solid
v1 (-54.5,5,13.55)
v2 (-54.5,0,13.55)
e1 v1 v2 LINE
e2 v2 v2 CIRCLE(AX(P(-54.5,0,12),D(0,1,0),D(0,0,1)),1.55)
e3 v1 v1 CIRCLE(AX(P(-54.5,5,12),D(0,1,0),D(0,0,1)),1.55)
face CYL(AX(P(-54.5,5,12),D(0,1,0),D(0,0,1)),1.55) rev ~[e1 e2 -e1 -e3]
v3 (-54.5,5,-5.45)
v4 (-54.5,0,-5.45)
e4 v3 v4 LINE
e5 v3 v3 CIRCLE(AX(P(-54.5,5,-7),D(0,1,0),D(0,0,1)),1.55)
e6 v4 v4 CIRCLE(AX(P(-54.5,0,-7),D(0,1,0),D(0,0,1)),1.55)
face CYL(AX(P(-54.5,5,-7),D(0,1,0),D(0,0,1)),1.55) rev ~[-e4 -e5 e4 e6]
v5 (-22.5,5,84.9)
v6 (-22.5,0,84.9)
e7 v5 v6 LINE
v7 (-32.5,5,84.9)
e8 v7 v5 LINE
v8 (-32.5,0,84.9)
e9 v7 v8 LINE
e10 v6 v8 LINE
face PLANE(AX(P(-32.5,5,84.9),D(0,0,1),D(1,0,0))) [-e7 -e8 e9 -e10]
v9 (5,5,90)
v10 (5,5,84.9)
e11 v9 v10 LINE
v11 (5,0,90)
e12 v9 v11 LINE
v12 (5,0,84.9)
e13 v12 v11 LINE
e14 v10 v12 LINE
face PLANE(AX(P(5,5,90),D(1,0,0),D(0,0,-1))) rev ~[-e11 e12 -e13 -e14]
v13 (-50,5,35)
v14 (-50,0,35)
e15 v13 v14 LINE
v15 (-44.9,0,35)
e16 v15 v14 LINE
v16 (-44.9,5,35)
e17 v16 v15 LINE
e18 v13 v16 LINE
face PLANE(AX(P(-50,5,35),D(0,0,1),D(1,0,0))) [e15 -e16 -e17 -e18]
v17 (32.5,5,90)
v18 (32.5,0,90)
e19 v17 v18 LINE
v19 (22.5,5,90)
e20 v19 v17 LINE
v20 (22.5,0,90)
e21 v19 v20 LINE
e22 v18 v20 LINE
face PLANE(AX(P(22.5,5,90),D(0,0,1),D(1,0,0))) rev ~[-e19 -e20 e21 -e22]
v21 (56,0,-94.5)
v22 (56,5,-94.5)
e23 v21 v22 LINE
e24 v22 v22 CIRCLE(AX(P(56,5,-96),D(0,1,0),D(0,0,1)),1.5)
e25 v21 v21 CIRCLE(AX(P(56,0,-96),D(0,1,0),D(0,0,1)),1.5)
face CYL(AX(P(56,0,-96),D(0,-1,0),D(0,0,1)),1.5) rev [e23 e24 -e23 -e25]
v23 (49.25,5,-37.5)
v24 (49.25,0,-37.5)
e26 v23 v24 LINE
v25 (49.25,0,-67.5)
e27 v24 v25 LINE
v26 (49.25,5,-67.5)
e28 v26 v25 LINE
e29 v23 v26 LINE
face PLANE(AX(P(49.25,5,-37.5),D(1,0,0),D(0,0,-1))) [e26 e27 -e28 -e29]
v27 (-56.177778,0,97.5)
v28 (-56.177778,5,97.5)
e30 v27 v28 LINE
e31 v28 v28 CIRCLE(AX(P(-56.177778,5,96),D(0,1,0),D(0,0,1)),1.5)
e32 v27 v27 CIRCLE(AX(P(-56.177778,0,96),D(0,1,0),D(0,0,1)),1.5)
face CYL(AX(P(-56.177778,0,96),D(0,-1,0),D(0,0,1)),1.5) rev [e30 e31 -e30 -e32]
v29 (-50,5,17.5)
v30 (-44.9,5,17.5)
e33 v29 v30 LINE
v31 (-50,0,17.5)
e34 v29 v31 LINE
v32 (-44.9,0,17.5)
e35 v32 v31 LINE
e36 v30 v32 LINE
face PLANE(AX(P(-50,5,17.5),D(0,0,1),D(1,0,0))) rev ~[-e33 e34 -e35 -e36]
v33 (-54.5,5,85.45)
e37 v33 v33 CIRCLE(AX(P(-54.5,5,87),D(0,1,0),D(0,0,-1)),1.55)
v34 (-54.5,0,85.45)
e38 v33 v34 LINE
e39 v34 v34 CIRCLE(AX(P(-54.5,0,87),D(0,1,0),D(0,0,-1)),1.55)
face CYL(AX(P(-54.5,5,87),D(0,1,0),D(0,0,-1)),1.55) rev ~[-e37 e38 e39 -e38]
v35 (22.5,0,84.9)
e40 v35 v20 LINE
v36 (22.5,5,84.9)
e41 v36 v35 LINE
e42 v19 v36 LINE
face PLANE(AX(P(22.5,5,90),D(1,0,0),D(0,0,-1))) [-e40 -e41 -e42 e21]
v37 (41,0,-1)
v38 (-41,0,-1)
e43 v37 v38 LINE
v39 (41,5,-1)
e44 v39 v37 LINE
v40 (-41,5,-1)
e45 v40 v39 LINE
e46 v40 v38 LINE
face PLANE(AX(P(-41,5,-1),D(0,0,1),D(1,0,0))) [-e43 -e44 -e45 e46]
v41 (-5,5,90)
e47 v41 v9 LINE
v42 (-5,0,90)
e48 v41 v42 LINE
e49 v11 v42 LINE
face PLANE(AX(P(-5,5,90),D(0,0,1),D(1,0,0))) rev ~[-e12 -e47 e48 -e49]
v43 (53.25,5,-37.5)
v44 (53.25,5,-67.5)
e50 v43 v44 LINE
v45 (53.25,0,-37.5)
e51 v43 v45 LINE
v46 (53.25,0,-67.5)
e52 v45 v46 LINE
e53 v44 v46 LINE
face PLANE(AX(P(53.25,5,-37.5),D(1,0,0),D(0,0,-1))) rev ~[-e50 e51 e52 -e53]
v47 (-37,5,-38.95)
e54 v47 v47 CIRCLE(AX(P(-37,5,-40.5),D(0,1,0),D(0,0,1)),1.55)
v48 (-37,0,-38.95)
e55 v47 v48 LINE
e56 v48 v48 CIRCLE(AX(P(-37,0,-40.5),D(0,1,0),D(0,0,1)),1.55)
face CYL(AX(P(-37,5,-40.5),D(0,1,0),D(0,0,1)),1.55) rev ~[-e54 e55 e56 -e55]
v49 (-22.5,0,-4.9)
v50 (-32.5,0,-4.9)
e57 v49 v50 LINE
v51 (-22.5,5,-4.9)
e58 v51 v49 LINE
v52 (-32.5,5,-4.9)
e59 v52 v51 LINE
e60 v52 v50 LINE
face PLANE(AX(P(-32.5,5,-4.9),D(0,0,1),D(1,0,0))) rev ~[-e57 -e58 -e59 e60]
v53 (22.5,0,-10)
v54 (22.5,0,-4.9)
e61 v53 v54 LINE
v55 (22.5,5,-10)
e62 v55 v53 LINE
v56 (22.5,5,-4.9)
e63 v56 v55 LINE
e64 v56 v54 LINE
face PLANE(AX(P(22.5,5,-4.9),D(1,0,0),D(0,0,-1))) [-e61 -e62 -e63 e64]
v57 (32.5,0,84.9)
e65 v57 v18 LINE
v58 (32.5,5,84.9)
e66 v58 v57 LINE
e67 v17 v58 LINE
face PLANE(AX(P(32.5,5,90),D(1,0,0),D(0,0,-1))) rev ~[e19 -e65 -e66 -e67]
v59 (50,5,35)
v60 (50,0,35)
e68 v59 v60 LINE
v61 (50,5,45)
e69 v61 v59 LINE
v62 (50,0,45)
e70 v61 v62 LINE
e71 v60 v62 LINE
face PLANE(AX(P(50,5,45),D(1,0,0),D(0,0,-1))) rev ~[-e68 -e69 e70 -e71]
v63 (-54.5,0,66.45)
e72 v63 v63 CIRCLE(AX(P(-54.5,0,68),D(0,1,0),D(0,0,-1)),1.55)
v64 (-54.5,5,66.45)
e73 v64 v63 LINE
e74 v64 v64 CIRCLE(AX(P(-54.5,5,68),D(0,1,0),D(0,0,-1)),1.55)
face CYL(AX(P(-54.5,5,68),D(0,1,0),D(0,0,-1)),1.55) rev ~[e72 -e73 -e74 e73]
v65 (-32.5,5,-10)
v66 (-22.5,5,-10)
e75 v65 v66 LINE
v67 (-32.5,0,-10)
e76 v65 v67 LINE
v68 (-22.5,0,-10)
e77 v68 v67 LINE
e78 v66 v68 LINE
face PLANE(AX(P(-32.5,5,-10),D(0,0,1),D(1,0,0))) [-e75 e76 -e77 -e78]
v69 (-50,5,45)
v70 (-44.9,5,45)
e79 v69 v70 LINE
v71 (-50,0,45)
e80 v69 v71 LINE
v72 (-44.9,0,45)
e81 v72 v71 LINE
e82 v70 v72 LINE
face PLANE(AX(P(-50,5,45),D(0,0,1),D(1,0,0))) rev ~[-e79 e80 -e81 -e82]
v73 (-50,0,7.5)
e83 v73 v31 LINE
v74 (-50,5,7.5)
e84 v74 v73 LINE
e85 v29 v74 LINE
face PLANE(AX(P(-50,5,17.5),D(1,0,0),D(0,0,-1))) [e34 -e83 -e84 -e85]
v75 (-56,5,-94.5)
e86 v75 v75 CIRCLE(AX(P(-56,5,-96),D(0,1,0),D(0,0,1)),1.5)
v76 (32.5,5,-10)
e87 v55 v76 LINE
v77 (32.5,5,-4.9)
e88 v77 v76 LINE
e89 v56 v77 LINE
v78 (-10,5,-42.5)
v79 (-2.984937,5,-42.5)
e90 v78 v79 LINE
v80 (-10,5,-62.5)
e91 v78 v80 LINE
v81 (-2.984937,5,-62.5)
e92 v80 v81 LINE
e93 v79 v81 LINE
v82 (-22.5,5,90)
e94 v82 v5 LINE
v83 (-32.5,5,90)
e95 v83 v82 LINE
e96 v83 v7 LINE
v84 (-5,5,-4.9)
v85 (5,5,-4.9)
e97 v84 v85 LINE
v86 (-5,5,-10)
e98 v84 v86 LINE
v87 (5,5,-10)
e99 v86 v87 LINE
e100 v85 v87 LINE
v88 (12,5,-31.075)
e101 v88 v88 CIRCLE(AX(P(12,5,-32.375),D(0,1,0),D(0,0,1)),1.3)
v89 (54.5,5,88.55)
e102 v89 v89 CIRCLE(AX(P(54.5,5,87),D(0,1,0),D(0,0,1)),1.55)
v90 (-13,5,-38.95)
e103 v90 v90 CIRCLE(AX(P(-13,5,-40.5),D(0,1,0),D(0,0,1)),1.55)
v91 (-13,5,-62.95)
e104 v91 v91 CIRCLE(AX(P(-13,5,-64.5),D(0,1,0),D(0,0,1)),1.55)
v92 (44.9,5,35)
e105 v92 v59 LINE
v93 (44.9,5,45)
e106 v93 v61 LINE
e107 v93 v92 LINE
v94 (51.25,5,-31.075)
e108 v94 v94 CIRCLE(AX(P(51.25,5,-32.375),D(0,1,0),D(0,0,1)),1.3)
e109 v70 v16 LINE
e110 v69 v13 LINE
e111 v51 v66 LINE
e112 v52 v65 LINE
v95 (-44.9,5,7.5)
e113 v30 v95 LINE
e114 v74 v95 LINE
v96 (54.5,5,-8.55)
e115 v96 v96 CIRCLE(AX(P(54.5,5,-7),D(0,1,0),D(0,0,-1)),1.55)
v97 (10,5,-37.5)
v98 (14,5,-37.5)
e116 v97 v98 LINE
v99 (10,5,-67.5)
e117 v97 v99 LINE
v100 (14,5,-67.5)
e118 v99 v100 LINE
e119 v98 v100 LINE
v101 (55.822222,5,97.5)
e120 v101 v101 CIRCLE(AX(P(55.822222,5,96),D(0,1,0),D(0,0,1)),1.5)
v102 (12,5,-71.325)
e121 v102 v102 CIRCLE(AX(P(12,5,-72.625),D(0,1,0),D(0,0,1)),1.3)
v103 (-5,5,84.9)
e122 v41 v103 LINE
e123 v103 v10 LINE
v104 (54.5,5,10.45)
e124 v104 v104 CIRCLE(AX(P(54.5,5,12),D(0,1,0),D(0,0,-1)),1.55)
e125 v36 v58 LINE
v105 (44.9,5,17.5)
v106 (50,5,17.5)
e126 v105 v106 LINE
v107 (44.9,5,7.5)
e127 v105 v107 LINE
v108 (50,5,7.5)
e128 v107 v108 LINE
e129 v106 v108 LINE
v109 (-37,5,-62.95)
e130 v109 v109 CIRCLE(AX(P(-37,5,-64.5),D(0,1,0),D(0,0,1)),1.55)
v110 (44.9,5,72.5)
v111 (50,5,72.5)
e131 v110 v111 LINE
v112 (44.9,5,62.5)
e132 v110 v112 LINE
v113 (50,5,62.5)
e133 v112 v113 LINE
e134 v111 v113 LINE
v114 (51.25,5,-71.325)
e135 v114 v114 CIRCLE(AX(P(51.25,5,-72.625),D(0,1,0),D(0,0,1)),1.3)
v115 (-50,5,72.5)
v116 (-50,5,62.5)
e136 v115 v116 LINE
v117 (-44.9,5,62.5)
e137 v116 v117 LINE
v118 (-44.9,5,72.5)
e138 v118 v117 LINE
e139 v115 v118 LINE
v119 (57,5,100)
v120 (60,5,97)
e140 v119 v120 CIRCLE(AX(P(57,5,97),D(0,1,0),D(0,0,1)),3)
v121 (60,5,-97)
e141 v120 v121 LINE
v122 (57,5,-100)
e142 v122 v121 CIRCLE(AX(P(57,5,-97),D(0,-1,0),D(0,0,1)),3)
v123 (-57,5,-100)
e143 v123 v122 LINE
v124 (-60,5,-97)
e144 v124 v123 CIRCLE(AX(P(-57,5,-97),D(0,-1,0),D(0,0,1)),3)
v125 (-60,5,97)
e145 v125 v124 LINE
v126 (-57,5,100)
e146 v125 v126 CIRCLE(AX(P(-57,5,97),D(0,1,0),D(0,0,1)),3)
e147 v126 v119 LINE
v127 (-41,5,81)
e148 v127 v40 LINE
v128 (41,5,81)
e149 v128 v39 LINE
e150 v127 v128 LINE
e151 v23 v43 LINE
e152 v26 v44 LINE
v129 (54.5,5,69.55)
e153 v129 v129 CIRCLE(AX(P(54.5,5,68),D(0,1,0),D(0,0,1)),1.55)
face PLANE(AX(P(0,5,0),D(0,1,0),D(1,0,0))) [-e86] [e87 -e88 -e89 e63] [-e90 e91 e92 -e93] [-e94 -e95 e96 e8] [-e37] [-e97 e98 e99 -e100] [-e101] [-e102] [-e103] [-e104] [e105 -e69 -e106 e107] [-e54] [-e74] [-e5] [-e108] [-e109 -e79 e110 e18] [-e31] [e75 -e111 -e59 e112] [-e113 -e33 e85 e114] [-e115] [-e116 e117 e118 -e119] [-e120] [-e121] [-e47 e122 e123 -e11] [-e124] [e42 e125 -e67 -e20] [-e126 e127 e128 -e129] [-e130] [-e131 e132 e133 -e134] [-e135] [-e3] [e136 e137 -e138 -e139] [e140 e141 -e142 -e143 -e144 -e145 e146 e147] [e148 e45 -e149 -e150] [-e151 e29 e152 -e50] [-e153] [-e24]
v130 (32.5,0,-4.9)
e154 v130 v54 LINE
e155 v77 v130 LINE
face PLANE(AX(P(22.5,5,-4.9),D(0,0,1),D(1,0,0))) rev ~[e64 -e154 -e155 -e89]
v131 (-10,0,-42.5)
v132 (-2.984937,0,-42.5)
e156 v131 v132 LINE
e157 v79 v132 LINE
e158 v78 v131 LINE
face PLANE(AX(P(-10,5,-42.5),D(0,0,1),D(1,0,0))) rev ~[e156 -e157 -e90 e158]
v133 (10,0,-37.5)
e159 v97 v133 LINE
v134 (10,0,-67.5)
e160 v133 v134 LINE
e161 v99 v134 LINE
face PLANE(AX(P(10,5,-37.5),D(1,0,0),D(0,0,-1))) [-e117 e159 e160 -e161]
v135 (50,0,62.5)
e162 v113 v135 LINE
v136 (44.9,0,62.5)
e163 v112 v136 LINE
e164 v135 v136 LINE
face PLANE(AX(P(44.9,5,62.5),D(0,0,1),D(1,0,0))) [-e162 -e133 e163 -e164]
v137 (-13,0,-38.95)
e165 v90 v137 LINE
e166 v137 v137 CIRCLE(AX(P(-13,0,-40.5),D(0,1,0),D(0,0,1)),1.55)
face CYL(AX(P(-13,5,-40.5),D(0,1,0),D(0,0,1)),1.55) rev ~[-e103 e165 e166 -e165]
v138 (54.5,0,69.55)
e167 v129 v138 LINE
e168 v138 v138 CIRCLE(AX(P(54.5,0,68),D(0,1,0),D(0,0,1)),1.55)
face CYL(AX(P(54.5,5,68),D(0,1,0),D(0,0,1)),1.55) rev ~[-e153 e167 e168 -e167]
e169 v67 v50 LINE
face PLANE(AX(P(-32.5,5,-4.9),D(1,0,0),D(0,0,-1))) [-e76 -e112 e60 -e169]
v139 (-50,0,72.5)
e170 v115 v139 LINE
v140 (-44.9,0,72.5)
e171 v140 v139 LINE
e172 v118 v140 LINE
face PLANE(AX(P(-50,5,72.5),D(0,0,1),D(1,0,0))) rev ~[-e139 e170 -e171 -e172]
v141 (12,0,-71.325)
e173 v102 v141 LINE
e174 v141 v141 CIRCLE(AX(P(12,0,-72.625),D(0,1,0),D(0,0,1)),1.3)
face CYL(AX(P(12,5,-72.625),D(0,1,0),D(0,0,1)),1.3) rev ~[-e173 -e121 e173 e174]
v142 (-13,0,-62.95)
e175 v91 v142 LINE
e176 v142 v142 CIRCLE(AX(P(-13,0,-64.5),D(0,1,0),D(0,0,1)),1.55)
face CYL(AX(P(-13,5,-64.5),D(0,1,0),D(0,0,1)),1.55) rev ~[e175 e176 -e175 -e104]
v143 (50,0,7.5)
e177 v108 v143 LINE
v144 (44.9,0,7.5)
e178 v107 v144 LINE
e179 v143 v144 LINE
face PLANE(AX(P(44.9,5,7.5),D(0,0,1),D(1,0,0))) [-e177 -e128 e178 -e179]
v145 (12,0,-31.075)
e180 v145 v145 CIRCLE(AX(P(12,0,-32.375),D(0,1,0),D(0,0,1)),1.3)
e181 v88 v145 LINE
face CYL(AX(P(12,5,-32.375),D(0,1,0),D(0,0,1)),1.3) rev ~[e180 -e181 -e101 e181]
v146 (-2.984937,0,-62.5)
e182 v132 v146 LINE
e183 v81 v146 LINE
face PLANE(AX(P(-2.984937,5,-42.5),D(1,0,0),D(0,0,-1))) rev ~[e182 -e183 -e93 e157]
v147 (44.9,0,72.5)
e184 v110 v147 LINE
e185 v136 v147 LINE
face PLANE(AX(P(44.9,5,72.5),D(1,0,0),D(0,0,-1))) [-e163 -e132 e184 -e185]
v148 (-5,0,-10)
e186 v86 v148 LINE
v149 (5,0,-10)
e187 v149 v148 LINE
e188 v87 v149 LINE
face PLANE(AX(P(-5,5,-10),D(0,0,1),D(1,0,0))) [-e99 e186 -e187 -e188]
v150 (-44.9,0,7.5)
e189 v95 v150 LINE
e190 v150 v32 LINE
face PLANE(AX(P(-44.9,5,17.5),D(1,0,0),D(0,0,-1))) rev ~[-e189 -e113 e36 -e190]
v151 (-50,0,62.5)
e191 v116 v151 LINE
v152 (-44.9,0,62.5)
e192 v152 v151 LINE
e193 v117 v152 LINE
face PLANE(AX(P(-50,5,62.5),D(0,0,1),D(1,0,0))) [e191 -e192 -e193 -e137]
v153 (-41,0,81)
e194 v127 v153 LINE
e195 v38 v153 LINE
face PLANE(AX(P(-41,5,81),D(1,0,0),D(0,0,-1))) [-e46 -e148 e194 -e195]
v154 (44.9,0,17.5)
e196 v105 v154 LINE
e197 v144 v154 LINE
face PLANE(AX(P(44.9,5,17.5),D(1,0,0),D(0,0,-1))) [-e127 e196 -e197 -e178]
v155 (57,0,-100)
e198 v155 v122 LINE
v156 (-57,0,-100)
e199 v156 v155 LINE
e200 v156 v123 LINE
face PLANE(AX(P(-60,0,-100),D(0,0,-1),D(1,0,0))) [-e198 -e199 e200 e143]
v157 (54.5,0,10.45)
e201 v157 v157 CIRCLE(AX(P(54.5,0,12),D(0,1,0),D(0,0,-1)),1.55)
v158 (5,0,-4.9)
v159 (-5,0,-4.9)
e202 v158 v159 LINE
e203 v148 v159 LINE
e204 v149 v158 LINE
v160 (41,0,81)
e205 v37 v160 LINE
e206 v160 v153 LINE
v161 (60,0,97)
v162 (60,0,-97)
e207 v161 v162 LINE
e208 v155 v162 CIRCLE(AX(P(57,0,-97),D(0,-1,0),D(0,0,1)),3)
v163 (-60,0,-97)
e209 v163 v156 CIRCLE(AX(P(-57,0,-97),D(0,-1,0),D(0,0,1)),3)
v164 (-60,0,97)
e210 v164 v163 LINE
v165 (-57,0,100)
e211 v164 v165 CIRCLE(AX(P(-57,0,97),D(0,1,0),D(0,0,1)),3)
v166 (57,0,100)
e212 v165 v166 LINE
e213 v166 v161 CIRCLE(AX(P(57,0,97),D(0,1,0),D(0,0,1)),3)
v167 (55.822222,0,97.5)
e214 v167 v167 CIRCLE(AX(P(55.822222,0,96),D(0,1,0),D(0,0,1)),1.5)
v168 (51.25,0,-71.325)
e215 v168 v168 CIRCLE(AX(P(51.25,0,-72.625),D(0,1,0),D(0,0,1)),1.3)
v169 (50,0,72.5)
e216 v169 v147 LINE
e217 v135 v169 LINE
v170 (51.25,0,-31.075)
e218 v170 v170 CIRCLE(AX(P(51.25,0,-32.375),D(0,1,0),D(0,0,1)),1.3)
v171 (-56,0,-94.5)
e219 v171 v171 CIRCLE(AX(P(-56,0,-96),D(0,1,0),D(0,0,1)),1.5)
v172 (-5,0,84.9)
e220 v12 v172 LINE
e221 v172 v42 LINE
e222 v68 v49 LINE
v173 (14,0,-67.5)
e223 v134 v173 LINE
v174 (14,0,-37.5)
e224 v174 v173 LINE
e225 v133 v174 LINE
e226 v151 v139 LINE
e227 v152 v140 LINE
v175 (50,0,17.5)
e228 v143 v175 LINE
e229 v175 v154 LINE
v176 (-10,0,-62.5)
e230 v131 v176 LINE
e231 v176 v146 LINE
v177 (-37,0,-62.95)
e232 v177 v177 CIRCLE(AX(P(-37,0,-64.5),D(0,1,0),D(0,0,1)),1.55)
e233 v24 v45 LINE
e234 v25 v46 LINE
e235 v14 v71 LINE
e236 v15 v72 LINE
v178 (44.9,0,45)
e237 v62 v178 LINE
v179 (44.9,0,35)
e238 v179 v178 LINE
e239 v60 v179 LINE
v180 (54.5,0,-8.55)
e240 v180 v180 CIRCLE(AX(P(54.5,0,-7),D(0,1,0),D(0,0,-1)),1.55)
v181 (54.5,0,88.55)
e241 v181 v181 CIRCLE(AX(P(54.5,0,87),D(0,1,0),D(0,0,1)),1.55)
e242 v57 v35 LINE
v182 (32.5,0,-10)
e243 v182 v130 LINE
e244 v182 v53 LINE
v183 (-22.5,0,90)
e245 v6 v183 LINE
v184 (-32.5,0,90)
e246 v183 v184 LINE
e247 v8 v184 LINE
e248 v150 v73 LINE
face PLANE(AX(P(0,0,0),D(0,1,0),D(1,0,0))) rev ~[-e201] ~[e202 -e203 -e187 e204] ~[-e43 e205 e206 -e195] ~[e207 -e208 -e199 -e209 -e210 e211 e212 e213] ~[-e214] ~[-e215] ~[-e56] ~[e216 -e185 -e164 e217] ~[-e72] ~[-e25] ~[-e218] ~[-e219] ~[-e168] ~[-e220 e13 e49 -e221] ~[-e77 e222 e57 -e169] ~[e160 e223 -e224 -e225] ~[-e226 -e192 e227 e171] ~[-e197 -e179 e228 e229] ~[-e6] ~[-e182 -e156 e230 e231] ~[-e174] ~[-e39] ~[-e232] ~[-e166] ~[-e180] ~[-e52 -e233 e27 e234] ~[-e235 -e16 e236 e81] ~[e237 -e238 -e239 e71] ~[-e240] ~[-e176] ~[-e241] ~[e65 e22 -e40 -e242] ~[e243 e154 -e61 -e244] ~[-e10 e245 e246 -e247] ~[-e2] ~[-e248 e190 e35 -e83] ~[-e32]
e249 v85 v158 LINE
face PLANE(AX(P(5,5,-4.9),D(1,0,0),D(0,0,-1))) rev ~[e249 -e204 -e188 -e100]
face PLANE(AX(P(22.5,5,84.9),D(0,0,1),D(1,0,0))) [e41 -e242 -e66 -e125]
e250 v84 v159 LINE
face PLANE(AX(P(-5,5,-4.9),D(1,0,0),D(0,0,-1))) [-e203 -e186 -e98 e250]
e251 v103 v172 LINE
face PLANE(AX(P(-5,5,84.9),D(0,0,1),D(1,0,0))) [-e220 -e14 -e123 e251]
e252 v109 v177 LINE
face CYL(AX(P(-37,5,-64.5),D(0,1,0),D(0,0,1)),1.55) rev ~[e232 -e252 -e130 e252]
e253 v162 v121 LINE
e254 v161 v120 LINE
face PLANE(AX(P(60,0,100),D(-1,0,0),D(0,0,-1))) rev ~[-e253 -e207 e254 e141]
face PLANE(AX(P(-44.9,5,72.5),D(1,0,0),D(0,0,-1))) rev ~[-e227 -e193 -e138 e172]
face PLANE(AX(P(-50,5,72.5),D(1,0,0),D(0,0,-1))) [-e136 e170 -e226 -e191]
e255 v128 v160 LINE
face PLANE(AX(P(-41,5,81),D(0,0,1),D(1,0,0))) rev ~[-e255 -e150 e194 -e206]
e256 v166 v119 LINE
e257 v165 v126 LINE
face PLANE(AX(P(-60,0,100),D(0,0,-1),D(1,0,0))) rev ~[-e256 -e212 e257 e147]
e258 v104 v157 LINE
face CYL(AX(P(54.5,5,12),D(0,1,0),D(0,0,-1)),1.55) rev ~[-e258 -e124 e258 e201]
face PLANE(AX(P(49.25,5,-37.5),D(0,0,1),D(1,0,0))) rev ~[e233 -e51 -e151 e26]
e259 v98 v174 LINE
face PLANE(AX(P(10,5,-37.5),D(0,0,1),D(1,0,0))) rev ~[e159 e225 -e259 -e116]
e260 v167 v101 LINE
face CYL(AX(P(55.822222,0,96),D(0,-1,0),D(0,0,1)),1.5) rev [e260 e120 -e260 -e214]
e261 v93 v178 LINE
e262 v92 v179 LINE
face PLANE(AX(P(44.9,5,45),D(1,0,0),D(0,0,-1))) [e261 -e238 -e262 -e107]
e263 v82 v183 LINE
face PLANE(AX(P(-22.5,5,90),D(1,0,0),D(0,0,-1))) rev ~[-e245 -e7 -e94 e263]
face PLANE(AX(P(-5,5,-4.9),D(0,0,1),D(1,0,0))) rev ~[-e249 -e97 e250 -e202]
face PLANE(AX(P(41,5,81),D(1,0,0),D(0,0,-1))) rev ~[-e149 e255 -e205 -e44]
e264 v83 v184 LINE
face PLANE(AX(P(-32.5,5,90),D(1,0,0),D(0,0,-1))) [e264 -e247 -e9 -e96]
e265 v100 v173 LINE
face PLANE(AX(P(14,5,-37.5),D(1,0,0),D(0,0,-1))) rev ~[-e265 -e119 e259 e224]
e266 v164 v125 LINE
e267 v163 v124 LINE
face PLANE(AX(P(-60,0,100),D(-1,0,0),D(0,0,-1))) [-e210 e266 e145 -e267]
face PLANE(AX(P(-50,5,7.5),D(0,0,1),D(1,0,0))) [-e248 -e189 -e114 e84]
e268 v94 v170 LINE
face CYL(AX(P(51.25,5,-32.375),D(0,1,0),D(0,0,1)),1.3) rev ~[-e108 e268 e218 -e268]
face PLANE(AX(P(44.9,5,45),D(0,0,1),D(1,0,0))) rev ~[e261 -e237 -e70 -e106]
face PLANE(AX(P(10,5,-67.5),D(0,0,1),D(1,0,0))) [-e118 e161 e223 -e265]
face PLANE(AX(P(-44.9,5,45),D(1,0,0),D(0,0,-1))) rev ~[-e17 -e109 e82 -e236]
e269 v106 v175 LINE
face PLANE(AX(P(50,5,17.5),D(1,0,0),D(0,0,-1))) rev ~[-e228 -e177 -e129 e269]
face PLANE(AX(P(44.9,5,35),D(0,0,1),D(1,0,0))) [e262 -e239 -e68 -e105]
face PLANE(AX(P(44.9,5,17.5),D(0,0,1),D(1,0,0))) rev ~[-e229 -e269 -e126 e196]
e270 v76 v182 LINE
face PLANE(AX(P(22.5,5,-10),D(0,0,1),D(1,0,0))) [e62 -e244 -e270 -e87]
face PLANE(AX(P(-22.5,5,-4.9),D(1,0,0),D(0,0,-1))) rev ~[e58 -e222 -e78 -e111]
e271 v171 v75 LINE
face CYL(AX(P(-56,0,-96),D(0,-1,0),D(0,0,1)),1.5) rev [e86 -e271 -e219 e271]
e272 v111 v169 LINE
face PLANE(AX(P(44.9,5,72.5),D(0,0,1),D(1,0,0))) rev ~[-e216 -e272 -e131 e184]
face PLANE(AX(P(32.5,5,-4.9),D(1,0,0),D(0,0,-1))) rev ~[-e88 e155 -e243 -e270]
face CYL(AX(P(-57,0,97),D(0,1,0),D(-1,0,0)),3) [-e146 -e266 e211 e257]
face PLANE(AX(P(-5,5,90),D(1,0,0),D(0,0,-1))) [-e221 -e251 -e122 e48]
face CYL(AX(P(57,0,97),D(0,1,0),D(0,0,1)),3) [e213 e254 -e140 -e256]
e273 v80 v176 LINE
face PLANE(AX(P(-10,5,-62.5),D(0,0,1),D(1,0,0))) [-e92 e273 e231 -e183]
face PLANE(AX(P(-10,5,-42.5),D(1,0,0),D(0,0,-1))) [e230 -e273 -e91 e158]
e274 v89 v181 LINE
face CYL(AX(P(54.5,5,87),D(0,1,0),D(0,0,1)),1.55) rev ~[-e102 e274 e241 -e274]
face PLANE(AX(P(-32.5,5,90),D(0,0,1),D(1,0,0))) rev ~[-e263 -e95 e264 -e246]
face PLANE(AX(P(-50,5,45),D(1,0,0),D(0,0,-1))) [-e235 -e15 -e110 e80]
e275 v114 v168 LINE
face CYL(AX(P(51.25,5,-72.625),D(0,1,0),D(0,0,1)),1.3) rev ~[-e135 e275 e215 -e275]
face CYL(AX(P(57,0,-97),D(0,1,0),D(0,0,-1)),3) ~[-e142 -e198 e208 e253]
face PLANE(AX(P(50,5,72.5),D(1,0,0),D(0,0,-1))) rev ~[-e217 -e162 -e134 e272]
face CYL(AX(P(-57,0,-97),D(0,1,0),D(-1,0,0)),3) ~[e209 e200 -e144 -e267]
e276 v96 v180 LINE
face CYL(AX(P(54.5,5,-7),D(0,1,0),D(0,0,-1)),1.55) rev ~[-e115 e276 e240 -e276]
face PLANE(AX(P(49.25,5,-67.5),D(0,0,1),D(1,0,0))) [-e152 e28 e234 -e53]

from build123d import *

# Parameters (mm, degrees)
SKETCH1_W           = 120
SKETCH1_H           = 200
SKETCH1_R           = 1.5
BOSS_EXTRUDE1_DEPTH = 5
CUT_EXTRUDE1_REACH  = 118.726
SKETCH4_W           = 5.1
SKETCH4_H           = 10
SKETCH4_W_2         = 10
SKETCH4_H_2         = 5.1
SKETCH4_W_3         = 82
SKETCH4_H_3         = 82
SKETCH5_R           = 1.55
SKETCH5_W           = 7.015063312
SKETCH5_H           = 20
CUT_EXTRUDE3_DEPTH  = 117.726175299
SKETCH6_W           = 4
SKETCH6_H           = 30
SKETCH6_R           = 1.3
CUT_EXTRUDE5_DEPTH  = 10
SKETCH7_R           = 1.55
CUT_EXTRUDE6_DEPTH  = 117.726175299
FILLET1_R           = 3


with BuildPart() as part:
    # Sketch1 → Boss-Extrude1 (new body)
    with BuildSketch(Plane(origin=(0, 0, 0), x_dir=(1, 0, 0), z_dir=(0, 1, 0))):
        Rectangle(SKETCH1_W, SKETCH1_H)
        with Locations(Location((-56, 96, 0), (0, 0, 270))):
            Circle(SKETCH1_R, mode=Mode.SUBTRACT)
        with Locations(Location((56, 96, 0), (0, 0, 270))):
            Circle(SKETCH1_R, mode=Mode.SUBTRACT)
        with Locations(Location((55.822222222, -96, 0), (0, 0, 270))):
            Circle(SKETCH1_R, mode=Mode.SUBTRACT)
        with Locations(Location((-56.177777778, -96, 0), (0, 0, 270))):
            Circle(SKETCH1_R, mode=Mode.SUBTRACT)
    extrude(amount=BOSS_EXTRUDE1_DEPTH)

    # Sketch4 → Cut-Extrude1 (cut, up to next)
    with BuildSketch(Plane(origin=(0, 5, 0), x_dir=(1, 0, 0), z_dir=(0, 1, 0)), mode=Mode.PRIVATE) as cut_extrude1_sk1:
        with Locations((-47.45, -12.5)):
            Rectangle(SKETCH4_W, SKETCH4_H)
    cut_extrude1_tool1 = extrude(cut_extrude1_sk1.sketch, amount=-CUT_EXTRUDE1_REACH, mode=Mode.PRIVATE) & part.part
    # Sketch4 → Cut-Extrude1 (cut, up to next)
    with BuildSketch(Plane(origin=(0, 5, 0), x_dir=(1, 0, 0), z_dir=(0, 1, 0)), mode=Mode.PRIVATE) as cut_extrude1_sk2:
        with Locations((-47.45, -67.5)):
            Rectangle(SKETCH4_W, SKETCH4_H)
    cut_extrude1_tool2 = extrude(cut_extrude1_sk2.sketch, amount=-CUT_EXTRUDE1_REACH, mode=Mode.PRIVATE) & part.part
    # Sketch4 → Cut-Extrude1 (cut, up to next)
    with BuildSketch(Plane(origin=(0, 5, 0), x_dir=(1, 0, 0), z_dir=(0, 1, 0)), mode=Mode.PRIVATE) as cut_extrude1_sk3:
        with Locations((-47.45, -40)):
            Rectangle(SKETCH4_W, SKETCH4_H)
    cut_extrude1_tool3 = extrude(cut_extrude1_sk3.sketch, amount=-CUT_EXTRUDE1_REACH, mode=Mode.PRIVATE) & part.part
    # Sketch4 → Cut-Extrude1 (cut, up to next)
    with BuildSketch(Plane(origin=(0, 5, 0), x_dir=(1, 0, 0), z_dir=(0, 1, 0)), mode=Mode.PRIVATE) as cut_extrude1_sk4:
        with Locations((-27.5, 7.45)):
            Rectangle(SKETCH4_W_2, SKETCH4_H_2)
    cut_extrude1_tool4 = extrude(cut_extrude1_sk4.sketch, amount=-CUT_EXTRUDE1_REACH, mode=Mode.PRIVATE) & part.part
    # Sketch4 → Cut-Extrude1 (cut, up to next)
    with BuildSketch(Plane(origin=(0, 5, 0), x_dir=(1, 0, 0), z_dir=(0, 1, 0)), mode=Mode.PRIVATE) as cut_extrude1_sk5:
        with Locations((0, 7.45)):
            Rectangle(SKETCH4_W_2, SKETCH4_H_2)
    cut_extrude1_tool5 = extrude(cut_extrude1_sk5.sketch, amount=-CUT_EXTRUDE1_REACH, mode=Mode.PRIVATE) & part.part
    # Sketch4 → Cut-Extrude1 (cut, up to next)
    with BuildSketch(Plane(origin=(0, 5, 0), x_dir=(1, 0, 0), z_dir=(0, 1, 0)), mode=Mode.PRIVATE) as cut_extrude1_sk6:
        with Locations((27.5, 7.45)):
            Rectangle(SKETCH4_W_2, SKETCH4_H_2)
    cut_extrude1_tool6 = extrude(cut_extrude1_sk6.sketch, amount=-CUT_EXTRUDE1_REACH, mode=Mode.PRIVATE) & part.part
    # Sketch4 → Cut-Extrude1 (cut, up to next)
    with BuildSketch(Plane(origin=(0, 5, 0), x_dir=(1, 0, 0), z_dir=(0, 1, 0)), mode=Mode.PRIVATE) as cut_extrude1_sk7:
        with Locations((47.45, -12.5)):
            Rectangle(SKETCH4_W, SKETCH4_H)
    cut_extrude1_tool7 = extrude(cut_extrude1_sk7.sketch, amount=-CUT_EXTRUDE1_REACH, mode=Mode.PRIVATE) & part.part
    # Sketch4 → Cut-Extrude1 (cut, up to next)
    with BuildSketch(Plane(origin=(0, 5, 0), x_dir=(1, 0, 0), z_dir=(0, 1, 0)), mode=Mode.PRIVATE) as cut_extrude1_sk8:
        with Locations((47.45, -40)):
            Rectangle(SKETCH4_W, SKETCH4_H)
    cut_extrude1_tool8 = extrude(cut_extrude1_sk8.sketch, amount=-CUT_EXTRUDE1_REACH, mode=Mode.PRIVATE) & part.part
    # Sketch4 → Cut-Extrude1 (cut, up to next)
    with BuildSketch(Plane(origin=(0, 5, 0), x_dir=(1, 0, 0), z_dir=(0, 1, 0)), mode=Mode.PRIVATE) as cut_extrude1_sk9:
        with Locations((47.45, -67.5)):
            Rectangle(SKETCH4_W, SKETCH4_H)
    cut_extrude1_tool9 = extrude(cut_extrude1_sk9.sketch, amount=-CUT_EXTRUDE1_REACH, mode=Mode.PRIVATE) & part.part
    # Sketch4 → Cut-Extrude1 (cut, up to next)
    with BuildSketch(Plane(origin=(0, 5, 0), x_dir=(1, 0, 0), z_dir=(0, 1, 0)), mode=Mode.PRIVATE) as cut_extrude1_sk10:
        with Locations((0, -87.45)):
            Rectangle(SKETCH4_W_2, SKETCH4_H_2)
    cut_extrude1_tool10 = extrude(cut_extrude1_sk10.sketch, amount=-CUT_EXTRUDE1_REACH, mode=Mode.PRIVATE) & part.part
    # Sketch4 → Cut-Extrude1 (cut, up to next)
    with BuildSketch(Plane(origin=(0, 5, 0), x_dir=(1, 0, 0), z_dir=(0, 1, 0)), mode=Mode.PRIVATE) as cut_extrude1_sk11:
        with Locations((-27.5, -87.45)):
            Rectangle(SKETCH4_W_2, SKETCH4_H_2)
    cut_extrude1_tool11 = extrude(cut_extrude1_sk11.sketch, amount=-CUT_EXTRUDE1_REACH, mode=Mode.PRIVATE) & part.part
    # Sketch4 → Cut-Extrude1 (cut, up to next)
    with BuildSketch(Plane(origin=(0, 5, 0), x_dir=(1, 0, 0), z_dir=(0, 1, 0)), mode=Mode.PRIVATE) as cut_extrude1_sk12:
        with Locations((27.5, -87.45)):
            Rectangle(SKETCH4_W_2, SKETCH4_H_2)
    cut_extrude1_tool12 = extrude(cut_extrude1_sk12.sketch, amount=-CUT_EXTRUDE1_REACH, mode=Mode.PRIVATE) & part.part
    # Sketch4 → Cut-Extrude1 (cut, up to next)
    with BuildSketch(Plane(origin=(0, 5, 0), x_dir=(1, 0, 0), z_dir=(0, 1, 0)), mode=Mode.PRIVATE) as cut_extrude1_sk13:
        with Locations((0, -40)):
            Rectangle(SKETCH4_W_3, SKETCH4_H_3)
    cut_extrude1_tool13 = extrude(cut_extrude1_sk13.sketch, amount=-CUT_EXTRUDE1_REACH, mode=Mode.PRIVATE) & part.part
    add(cut_extrude1_tool1.solids().sort_by_distance((-47.45, 5, 12.5))[0], mode=Mode.SUBTRACT)
    add(cut_extrude1_tool2.solids().sort_by_distance((-47.45, 5, 67.5))[0], mode=Mode.SUBTRACT)
    add(cut_extrude1_tool3.solids().sort_by_distance((-47.45, 5, 40))[0], mode=Mode.SUBTRACT)
    add(cut_extrude1_tool4.solids().sort_by_distance((-27.5, 5, -7.45))[0], mode=Mode.SUBTRACT)
    add(cut_extrude1_tool5.solids().sort_by_distance((0, 5, -7.45))[0], mode=Mode.SUBTRACT)
    add(cut_extrude1_tool6.solids().sort_by_distance((27.5, 5, -7.45))[0], mode=Mode.SUBTRACT)
    add(cut_extrude1_tool7.solids().sort_by_distance((47.45, 5, 12.5))[0], mode=Mode.SUBTRACT)
    add(cut_extrude1_tool8.solids().sort_by_distance((47.45, 5, 40))[0], mode=Mode.SUBTRACT)
    add(cut_extrude1_tool9.solids().sort_by_distance((47.45, 5, 67.5))[0], mode=Mode.SUBTRACT)
    add(cut_extrude1_tool10.solids().sort_by_distance((0, 5, 87.45))[0], mode=Mode.SUBTRACT)
    add(cut_extrude1_tool11.solids().sort_by_distance((-27.5, 5, 87.45))[0], mode=Mode.SUBTRACT)
    add(cut_extrude1_tool12.solids().sort_by_distance((27.5, 5, 87.45))[0], mode=Mode.SUBTRACT)
    add(cut_extrude1_tool13.solids().sort_by_distance((0, 5, 40))[0], mode=Mode.SUBTRACT)

    # Sketch5 → Cut-Extrude3 (cut, through all)
    with BuildSketch(Plane(origin=(0, 5, 0), x_dir=(1, 0, 0), z_dir=(0, 1, 0))):
        with Locations(Location((-37, 64.5, 0), (0, 0, 270))):
            Circle(SKETCH5_R)
        with Locations(Location((-13, 64.5, 0), (0, 0, 270))):
            Circle(SKETCH5_R)
        with Locations(Location((-13, 40.5, 0), (0, 0, 270))):
            Circle(SKETCH5_R)
        with Locations(Location((-37, 40.5, 0), (0, 0, 270))):
            Circle(SKETCH5_R)
        with Locations((-6.492468344, 52.5)):
            Rectangle(SKETCH5_W, SKETCH5_H)
    extrude(amount=-CUT_EXTRUDE3_DEPTH, mode=Mode.SUBTRACT)

    # Sketch6 → Cut-Extrude5 (cut)
    with BuildSketch(Plane(origin=(0, 5, 0), x_dir=(1, 0, 0), z_dir=(0, 1, 0))):
        with Locations((12, 52.5)):
            Rectangle(SKETCH6_W, SKETCH6_H)
        with Locations((51.25, 52.5)):
            Rectangle(SKETCH6_W, SKETCH6_H)
        with Locations(Location((51.25, 72.625, 0), (0, 0, 270))):
            Circle(SKETCH6_R)
        with Locations(Location((12, 72.625, 0), (0, 0, 270))):
            Circle(SKETCH6_R)
        with Locations(Location((12, 32.375, 0), (0, 0, 270))):
            Circle(SKETCH6_R)
        with Locations(Location((51.25, 32.375, 0), (0, 0, 270))):
            Circle(SKETCH6_R)
    extrude(amount=-CUT_EXTRUDE5_DEPTH, mode=Mode.SUBTRACT)

    # Sketch7 → Cut-Extrude6 (cut, through all)
    with BuildSketch(Plane(origin=(0, 5, 0), x_dir=(1, 0, 0), z_dir=(0, 1, 0))):
        with Locations(Location((-54.5, 7, 0), (0, 0, 270))):
            Circle(SKETCH7_R)
        with Locations(Location((-54.5, -12, 0), (0, 0, 270))):
            Circle(SKETCH7_R)
        with Locations(Location((-54.5, -68, 0), (0, 0, 90))):
            Circle(SKETCH7_R)
        with Locations(Location((-54.5, -87, 0), (0, 0, 90))):
            Circle(SKETCH7_R)
        with Locations(Location((54.5, -12, 0), (0, 0, 90))):
            Circle(SKETCH7_R)
        with Locations(Location((54.5, 7, 0), (0, 0, 90))):
            Circle(SKETCH7_R)
        with Locations(Location((54.5, -87, 0), (0, 0, 270))):
            Circle(SKETCH7_R)
        with Locations(Location((54.5, -68, 0), (0, 0, 270))):
            Circle(SKETCH7_R)
    extrude(amount=-CUT_EXTRUDE6_DEPTH, mode=Mode.SUBTRACT)

    # Fillet1
    fillet1_edges = [part.edges().sort_by_distance(p)[0] for p in [
        (-60, 2.5, 100),
        (-60, 2.5, -100),
        (60, 2.5, -100),
        (60, 2.5, 100),
    ]]
    fillet(fillet1_edges, radius=FILLET1_R)


solid = part.part
